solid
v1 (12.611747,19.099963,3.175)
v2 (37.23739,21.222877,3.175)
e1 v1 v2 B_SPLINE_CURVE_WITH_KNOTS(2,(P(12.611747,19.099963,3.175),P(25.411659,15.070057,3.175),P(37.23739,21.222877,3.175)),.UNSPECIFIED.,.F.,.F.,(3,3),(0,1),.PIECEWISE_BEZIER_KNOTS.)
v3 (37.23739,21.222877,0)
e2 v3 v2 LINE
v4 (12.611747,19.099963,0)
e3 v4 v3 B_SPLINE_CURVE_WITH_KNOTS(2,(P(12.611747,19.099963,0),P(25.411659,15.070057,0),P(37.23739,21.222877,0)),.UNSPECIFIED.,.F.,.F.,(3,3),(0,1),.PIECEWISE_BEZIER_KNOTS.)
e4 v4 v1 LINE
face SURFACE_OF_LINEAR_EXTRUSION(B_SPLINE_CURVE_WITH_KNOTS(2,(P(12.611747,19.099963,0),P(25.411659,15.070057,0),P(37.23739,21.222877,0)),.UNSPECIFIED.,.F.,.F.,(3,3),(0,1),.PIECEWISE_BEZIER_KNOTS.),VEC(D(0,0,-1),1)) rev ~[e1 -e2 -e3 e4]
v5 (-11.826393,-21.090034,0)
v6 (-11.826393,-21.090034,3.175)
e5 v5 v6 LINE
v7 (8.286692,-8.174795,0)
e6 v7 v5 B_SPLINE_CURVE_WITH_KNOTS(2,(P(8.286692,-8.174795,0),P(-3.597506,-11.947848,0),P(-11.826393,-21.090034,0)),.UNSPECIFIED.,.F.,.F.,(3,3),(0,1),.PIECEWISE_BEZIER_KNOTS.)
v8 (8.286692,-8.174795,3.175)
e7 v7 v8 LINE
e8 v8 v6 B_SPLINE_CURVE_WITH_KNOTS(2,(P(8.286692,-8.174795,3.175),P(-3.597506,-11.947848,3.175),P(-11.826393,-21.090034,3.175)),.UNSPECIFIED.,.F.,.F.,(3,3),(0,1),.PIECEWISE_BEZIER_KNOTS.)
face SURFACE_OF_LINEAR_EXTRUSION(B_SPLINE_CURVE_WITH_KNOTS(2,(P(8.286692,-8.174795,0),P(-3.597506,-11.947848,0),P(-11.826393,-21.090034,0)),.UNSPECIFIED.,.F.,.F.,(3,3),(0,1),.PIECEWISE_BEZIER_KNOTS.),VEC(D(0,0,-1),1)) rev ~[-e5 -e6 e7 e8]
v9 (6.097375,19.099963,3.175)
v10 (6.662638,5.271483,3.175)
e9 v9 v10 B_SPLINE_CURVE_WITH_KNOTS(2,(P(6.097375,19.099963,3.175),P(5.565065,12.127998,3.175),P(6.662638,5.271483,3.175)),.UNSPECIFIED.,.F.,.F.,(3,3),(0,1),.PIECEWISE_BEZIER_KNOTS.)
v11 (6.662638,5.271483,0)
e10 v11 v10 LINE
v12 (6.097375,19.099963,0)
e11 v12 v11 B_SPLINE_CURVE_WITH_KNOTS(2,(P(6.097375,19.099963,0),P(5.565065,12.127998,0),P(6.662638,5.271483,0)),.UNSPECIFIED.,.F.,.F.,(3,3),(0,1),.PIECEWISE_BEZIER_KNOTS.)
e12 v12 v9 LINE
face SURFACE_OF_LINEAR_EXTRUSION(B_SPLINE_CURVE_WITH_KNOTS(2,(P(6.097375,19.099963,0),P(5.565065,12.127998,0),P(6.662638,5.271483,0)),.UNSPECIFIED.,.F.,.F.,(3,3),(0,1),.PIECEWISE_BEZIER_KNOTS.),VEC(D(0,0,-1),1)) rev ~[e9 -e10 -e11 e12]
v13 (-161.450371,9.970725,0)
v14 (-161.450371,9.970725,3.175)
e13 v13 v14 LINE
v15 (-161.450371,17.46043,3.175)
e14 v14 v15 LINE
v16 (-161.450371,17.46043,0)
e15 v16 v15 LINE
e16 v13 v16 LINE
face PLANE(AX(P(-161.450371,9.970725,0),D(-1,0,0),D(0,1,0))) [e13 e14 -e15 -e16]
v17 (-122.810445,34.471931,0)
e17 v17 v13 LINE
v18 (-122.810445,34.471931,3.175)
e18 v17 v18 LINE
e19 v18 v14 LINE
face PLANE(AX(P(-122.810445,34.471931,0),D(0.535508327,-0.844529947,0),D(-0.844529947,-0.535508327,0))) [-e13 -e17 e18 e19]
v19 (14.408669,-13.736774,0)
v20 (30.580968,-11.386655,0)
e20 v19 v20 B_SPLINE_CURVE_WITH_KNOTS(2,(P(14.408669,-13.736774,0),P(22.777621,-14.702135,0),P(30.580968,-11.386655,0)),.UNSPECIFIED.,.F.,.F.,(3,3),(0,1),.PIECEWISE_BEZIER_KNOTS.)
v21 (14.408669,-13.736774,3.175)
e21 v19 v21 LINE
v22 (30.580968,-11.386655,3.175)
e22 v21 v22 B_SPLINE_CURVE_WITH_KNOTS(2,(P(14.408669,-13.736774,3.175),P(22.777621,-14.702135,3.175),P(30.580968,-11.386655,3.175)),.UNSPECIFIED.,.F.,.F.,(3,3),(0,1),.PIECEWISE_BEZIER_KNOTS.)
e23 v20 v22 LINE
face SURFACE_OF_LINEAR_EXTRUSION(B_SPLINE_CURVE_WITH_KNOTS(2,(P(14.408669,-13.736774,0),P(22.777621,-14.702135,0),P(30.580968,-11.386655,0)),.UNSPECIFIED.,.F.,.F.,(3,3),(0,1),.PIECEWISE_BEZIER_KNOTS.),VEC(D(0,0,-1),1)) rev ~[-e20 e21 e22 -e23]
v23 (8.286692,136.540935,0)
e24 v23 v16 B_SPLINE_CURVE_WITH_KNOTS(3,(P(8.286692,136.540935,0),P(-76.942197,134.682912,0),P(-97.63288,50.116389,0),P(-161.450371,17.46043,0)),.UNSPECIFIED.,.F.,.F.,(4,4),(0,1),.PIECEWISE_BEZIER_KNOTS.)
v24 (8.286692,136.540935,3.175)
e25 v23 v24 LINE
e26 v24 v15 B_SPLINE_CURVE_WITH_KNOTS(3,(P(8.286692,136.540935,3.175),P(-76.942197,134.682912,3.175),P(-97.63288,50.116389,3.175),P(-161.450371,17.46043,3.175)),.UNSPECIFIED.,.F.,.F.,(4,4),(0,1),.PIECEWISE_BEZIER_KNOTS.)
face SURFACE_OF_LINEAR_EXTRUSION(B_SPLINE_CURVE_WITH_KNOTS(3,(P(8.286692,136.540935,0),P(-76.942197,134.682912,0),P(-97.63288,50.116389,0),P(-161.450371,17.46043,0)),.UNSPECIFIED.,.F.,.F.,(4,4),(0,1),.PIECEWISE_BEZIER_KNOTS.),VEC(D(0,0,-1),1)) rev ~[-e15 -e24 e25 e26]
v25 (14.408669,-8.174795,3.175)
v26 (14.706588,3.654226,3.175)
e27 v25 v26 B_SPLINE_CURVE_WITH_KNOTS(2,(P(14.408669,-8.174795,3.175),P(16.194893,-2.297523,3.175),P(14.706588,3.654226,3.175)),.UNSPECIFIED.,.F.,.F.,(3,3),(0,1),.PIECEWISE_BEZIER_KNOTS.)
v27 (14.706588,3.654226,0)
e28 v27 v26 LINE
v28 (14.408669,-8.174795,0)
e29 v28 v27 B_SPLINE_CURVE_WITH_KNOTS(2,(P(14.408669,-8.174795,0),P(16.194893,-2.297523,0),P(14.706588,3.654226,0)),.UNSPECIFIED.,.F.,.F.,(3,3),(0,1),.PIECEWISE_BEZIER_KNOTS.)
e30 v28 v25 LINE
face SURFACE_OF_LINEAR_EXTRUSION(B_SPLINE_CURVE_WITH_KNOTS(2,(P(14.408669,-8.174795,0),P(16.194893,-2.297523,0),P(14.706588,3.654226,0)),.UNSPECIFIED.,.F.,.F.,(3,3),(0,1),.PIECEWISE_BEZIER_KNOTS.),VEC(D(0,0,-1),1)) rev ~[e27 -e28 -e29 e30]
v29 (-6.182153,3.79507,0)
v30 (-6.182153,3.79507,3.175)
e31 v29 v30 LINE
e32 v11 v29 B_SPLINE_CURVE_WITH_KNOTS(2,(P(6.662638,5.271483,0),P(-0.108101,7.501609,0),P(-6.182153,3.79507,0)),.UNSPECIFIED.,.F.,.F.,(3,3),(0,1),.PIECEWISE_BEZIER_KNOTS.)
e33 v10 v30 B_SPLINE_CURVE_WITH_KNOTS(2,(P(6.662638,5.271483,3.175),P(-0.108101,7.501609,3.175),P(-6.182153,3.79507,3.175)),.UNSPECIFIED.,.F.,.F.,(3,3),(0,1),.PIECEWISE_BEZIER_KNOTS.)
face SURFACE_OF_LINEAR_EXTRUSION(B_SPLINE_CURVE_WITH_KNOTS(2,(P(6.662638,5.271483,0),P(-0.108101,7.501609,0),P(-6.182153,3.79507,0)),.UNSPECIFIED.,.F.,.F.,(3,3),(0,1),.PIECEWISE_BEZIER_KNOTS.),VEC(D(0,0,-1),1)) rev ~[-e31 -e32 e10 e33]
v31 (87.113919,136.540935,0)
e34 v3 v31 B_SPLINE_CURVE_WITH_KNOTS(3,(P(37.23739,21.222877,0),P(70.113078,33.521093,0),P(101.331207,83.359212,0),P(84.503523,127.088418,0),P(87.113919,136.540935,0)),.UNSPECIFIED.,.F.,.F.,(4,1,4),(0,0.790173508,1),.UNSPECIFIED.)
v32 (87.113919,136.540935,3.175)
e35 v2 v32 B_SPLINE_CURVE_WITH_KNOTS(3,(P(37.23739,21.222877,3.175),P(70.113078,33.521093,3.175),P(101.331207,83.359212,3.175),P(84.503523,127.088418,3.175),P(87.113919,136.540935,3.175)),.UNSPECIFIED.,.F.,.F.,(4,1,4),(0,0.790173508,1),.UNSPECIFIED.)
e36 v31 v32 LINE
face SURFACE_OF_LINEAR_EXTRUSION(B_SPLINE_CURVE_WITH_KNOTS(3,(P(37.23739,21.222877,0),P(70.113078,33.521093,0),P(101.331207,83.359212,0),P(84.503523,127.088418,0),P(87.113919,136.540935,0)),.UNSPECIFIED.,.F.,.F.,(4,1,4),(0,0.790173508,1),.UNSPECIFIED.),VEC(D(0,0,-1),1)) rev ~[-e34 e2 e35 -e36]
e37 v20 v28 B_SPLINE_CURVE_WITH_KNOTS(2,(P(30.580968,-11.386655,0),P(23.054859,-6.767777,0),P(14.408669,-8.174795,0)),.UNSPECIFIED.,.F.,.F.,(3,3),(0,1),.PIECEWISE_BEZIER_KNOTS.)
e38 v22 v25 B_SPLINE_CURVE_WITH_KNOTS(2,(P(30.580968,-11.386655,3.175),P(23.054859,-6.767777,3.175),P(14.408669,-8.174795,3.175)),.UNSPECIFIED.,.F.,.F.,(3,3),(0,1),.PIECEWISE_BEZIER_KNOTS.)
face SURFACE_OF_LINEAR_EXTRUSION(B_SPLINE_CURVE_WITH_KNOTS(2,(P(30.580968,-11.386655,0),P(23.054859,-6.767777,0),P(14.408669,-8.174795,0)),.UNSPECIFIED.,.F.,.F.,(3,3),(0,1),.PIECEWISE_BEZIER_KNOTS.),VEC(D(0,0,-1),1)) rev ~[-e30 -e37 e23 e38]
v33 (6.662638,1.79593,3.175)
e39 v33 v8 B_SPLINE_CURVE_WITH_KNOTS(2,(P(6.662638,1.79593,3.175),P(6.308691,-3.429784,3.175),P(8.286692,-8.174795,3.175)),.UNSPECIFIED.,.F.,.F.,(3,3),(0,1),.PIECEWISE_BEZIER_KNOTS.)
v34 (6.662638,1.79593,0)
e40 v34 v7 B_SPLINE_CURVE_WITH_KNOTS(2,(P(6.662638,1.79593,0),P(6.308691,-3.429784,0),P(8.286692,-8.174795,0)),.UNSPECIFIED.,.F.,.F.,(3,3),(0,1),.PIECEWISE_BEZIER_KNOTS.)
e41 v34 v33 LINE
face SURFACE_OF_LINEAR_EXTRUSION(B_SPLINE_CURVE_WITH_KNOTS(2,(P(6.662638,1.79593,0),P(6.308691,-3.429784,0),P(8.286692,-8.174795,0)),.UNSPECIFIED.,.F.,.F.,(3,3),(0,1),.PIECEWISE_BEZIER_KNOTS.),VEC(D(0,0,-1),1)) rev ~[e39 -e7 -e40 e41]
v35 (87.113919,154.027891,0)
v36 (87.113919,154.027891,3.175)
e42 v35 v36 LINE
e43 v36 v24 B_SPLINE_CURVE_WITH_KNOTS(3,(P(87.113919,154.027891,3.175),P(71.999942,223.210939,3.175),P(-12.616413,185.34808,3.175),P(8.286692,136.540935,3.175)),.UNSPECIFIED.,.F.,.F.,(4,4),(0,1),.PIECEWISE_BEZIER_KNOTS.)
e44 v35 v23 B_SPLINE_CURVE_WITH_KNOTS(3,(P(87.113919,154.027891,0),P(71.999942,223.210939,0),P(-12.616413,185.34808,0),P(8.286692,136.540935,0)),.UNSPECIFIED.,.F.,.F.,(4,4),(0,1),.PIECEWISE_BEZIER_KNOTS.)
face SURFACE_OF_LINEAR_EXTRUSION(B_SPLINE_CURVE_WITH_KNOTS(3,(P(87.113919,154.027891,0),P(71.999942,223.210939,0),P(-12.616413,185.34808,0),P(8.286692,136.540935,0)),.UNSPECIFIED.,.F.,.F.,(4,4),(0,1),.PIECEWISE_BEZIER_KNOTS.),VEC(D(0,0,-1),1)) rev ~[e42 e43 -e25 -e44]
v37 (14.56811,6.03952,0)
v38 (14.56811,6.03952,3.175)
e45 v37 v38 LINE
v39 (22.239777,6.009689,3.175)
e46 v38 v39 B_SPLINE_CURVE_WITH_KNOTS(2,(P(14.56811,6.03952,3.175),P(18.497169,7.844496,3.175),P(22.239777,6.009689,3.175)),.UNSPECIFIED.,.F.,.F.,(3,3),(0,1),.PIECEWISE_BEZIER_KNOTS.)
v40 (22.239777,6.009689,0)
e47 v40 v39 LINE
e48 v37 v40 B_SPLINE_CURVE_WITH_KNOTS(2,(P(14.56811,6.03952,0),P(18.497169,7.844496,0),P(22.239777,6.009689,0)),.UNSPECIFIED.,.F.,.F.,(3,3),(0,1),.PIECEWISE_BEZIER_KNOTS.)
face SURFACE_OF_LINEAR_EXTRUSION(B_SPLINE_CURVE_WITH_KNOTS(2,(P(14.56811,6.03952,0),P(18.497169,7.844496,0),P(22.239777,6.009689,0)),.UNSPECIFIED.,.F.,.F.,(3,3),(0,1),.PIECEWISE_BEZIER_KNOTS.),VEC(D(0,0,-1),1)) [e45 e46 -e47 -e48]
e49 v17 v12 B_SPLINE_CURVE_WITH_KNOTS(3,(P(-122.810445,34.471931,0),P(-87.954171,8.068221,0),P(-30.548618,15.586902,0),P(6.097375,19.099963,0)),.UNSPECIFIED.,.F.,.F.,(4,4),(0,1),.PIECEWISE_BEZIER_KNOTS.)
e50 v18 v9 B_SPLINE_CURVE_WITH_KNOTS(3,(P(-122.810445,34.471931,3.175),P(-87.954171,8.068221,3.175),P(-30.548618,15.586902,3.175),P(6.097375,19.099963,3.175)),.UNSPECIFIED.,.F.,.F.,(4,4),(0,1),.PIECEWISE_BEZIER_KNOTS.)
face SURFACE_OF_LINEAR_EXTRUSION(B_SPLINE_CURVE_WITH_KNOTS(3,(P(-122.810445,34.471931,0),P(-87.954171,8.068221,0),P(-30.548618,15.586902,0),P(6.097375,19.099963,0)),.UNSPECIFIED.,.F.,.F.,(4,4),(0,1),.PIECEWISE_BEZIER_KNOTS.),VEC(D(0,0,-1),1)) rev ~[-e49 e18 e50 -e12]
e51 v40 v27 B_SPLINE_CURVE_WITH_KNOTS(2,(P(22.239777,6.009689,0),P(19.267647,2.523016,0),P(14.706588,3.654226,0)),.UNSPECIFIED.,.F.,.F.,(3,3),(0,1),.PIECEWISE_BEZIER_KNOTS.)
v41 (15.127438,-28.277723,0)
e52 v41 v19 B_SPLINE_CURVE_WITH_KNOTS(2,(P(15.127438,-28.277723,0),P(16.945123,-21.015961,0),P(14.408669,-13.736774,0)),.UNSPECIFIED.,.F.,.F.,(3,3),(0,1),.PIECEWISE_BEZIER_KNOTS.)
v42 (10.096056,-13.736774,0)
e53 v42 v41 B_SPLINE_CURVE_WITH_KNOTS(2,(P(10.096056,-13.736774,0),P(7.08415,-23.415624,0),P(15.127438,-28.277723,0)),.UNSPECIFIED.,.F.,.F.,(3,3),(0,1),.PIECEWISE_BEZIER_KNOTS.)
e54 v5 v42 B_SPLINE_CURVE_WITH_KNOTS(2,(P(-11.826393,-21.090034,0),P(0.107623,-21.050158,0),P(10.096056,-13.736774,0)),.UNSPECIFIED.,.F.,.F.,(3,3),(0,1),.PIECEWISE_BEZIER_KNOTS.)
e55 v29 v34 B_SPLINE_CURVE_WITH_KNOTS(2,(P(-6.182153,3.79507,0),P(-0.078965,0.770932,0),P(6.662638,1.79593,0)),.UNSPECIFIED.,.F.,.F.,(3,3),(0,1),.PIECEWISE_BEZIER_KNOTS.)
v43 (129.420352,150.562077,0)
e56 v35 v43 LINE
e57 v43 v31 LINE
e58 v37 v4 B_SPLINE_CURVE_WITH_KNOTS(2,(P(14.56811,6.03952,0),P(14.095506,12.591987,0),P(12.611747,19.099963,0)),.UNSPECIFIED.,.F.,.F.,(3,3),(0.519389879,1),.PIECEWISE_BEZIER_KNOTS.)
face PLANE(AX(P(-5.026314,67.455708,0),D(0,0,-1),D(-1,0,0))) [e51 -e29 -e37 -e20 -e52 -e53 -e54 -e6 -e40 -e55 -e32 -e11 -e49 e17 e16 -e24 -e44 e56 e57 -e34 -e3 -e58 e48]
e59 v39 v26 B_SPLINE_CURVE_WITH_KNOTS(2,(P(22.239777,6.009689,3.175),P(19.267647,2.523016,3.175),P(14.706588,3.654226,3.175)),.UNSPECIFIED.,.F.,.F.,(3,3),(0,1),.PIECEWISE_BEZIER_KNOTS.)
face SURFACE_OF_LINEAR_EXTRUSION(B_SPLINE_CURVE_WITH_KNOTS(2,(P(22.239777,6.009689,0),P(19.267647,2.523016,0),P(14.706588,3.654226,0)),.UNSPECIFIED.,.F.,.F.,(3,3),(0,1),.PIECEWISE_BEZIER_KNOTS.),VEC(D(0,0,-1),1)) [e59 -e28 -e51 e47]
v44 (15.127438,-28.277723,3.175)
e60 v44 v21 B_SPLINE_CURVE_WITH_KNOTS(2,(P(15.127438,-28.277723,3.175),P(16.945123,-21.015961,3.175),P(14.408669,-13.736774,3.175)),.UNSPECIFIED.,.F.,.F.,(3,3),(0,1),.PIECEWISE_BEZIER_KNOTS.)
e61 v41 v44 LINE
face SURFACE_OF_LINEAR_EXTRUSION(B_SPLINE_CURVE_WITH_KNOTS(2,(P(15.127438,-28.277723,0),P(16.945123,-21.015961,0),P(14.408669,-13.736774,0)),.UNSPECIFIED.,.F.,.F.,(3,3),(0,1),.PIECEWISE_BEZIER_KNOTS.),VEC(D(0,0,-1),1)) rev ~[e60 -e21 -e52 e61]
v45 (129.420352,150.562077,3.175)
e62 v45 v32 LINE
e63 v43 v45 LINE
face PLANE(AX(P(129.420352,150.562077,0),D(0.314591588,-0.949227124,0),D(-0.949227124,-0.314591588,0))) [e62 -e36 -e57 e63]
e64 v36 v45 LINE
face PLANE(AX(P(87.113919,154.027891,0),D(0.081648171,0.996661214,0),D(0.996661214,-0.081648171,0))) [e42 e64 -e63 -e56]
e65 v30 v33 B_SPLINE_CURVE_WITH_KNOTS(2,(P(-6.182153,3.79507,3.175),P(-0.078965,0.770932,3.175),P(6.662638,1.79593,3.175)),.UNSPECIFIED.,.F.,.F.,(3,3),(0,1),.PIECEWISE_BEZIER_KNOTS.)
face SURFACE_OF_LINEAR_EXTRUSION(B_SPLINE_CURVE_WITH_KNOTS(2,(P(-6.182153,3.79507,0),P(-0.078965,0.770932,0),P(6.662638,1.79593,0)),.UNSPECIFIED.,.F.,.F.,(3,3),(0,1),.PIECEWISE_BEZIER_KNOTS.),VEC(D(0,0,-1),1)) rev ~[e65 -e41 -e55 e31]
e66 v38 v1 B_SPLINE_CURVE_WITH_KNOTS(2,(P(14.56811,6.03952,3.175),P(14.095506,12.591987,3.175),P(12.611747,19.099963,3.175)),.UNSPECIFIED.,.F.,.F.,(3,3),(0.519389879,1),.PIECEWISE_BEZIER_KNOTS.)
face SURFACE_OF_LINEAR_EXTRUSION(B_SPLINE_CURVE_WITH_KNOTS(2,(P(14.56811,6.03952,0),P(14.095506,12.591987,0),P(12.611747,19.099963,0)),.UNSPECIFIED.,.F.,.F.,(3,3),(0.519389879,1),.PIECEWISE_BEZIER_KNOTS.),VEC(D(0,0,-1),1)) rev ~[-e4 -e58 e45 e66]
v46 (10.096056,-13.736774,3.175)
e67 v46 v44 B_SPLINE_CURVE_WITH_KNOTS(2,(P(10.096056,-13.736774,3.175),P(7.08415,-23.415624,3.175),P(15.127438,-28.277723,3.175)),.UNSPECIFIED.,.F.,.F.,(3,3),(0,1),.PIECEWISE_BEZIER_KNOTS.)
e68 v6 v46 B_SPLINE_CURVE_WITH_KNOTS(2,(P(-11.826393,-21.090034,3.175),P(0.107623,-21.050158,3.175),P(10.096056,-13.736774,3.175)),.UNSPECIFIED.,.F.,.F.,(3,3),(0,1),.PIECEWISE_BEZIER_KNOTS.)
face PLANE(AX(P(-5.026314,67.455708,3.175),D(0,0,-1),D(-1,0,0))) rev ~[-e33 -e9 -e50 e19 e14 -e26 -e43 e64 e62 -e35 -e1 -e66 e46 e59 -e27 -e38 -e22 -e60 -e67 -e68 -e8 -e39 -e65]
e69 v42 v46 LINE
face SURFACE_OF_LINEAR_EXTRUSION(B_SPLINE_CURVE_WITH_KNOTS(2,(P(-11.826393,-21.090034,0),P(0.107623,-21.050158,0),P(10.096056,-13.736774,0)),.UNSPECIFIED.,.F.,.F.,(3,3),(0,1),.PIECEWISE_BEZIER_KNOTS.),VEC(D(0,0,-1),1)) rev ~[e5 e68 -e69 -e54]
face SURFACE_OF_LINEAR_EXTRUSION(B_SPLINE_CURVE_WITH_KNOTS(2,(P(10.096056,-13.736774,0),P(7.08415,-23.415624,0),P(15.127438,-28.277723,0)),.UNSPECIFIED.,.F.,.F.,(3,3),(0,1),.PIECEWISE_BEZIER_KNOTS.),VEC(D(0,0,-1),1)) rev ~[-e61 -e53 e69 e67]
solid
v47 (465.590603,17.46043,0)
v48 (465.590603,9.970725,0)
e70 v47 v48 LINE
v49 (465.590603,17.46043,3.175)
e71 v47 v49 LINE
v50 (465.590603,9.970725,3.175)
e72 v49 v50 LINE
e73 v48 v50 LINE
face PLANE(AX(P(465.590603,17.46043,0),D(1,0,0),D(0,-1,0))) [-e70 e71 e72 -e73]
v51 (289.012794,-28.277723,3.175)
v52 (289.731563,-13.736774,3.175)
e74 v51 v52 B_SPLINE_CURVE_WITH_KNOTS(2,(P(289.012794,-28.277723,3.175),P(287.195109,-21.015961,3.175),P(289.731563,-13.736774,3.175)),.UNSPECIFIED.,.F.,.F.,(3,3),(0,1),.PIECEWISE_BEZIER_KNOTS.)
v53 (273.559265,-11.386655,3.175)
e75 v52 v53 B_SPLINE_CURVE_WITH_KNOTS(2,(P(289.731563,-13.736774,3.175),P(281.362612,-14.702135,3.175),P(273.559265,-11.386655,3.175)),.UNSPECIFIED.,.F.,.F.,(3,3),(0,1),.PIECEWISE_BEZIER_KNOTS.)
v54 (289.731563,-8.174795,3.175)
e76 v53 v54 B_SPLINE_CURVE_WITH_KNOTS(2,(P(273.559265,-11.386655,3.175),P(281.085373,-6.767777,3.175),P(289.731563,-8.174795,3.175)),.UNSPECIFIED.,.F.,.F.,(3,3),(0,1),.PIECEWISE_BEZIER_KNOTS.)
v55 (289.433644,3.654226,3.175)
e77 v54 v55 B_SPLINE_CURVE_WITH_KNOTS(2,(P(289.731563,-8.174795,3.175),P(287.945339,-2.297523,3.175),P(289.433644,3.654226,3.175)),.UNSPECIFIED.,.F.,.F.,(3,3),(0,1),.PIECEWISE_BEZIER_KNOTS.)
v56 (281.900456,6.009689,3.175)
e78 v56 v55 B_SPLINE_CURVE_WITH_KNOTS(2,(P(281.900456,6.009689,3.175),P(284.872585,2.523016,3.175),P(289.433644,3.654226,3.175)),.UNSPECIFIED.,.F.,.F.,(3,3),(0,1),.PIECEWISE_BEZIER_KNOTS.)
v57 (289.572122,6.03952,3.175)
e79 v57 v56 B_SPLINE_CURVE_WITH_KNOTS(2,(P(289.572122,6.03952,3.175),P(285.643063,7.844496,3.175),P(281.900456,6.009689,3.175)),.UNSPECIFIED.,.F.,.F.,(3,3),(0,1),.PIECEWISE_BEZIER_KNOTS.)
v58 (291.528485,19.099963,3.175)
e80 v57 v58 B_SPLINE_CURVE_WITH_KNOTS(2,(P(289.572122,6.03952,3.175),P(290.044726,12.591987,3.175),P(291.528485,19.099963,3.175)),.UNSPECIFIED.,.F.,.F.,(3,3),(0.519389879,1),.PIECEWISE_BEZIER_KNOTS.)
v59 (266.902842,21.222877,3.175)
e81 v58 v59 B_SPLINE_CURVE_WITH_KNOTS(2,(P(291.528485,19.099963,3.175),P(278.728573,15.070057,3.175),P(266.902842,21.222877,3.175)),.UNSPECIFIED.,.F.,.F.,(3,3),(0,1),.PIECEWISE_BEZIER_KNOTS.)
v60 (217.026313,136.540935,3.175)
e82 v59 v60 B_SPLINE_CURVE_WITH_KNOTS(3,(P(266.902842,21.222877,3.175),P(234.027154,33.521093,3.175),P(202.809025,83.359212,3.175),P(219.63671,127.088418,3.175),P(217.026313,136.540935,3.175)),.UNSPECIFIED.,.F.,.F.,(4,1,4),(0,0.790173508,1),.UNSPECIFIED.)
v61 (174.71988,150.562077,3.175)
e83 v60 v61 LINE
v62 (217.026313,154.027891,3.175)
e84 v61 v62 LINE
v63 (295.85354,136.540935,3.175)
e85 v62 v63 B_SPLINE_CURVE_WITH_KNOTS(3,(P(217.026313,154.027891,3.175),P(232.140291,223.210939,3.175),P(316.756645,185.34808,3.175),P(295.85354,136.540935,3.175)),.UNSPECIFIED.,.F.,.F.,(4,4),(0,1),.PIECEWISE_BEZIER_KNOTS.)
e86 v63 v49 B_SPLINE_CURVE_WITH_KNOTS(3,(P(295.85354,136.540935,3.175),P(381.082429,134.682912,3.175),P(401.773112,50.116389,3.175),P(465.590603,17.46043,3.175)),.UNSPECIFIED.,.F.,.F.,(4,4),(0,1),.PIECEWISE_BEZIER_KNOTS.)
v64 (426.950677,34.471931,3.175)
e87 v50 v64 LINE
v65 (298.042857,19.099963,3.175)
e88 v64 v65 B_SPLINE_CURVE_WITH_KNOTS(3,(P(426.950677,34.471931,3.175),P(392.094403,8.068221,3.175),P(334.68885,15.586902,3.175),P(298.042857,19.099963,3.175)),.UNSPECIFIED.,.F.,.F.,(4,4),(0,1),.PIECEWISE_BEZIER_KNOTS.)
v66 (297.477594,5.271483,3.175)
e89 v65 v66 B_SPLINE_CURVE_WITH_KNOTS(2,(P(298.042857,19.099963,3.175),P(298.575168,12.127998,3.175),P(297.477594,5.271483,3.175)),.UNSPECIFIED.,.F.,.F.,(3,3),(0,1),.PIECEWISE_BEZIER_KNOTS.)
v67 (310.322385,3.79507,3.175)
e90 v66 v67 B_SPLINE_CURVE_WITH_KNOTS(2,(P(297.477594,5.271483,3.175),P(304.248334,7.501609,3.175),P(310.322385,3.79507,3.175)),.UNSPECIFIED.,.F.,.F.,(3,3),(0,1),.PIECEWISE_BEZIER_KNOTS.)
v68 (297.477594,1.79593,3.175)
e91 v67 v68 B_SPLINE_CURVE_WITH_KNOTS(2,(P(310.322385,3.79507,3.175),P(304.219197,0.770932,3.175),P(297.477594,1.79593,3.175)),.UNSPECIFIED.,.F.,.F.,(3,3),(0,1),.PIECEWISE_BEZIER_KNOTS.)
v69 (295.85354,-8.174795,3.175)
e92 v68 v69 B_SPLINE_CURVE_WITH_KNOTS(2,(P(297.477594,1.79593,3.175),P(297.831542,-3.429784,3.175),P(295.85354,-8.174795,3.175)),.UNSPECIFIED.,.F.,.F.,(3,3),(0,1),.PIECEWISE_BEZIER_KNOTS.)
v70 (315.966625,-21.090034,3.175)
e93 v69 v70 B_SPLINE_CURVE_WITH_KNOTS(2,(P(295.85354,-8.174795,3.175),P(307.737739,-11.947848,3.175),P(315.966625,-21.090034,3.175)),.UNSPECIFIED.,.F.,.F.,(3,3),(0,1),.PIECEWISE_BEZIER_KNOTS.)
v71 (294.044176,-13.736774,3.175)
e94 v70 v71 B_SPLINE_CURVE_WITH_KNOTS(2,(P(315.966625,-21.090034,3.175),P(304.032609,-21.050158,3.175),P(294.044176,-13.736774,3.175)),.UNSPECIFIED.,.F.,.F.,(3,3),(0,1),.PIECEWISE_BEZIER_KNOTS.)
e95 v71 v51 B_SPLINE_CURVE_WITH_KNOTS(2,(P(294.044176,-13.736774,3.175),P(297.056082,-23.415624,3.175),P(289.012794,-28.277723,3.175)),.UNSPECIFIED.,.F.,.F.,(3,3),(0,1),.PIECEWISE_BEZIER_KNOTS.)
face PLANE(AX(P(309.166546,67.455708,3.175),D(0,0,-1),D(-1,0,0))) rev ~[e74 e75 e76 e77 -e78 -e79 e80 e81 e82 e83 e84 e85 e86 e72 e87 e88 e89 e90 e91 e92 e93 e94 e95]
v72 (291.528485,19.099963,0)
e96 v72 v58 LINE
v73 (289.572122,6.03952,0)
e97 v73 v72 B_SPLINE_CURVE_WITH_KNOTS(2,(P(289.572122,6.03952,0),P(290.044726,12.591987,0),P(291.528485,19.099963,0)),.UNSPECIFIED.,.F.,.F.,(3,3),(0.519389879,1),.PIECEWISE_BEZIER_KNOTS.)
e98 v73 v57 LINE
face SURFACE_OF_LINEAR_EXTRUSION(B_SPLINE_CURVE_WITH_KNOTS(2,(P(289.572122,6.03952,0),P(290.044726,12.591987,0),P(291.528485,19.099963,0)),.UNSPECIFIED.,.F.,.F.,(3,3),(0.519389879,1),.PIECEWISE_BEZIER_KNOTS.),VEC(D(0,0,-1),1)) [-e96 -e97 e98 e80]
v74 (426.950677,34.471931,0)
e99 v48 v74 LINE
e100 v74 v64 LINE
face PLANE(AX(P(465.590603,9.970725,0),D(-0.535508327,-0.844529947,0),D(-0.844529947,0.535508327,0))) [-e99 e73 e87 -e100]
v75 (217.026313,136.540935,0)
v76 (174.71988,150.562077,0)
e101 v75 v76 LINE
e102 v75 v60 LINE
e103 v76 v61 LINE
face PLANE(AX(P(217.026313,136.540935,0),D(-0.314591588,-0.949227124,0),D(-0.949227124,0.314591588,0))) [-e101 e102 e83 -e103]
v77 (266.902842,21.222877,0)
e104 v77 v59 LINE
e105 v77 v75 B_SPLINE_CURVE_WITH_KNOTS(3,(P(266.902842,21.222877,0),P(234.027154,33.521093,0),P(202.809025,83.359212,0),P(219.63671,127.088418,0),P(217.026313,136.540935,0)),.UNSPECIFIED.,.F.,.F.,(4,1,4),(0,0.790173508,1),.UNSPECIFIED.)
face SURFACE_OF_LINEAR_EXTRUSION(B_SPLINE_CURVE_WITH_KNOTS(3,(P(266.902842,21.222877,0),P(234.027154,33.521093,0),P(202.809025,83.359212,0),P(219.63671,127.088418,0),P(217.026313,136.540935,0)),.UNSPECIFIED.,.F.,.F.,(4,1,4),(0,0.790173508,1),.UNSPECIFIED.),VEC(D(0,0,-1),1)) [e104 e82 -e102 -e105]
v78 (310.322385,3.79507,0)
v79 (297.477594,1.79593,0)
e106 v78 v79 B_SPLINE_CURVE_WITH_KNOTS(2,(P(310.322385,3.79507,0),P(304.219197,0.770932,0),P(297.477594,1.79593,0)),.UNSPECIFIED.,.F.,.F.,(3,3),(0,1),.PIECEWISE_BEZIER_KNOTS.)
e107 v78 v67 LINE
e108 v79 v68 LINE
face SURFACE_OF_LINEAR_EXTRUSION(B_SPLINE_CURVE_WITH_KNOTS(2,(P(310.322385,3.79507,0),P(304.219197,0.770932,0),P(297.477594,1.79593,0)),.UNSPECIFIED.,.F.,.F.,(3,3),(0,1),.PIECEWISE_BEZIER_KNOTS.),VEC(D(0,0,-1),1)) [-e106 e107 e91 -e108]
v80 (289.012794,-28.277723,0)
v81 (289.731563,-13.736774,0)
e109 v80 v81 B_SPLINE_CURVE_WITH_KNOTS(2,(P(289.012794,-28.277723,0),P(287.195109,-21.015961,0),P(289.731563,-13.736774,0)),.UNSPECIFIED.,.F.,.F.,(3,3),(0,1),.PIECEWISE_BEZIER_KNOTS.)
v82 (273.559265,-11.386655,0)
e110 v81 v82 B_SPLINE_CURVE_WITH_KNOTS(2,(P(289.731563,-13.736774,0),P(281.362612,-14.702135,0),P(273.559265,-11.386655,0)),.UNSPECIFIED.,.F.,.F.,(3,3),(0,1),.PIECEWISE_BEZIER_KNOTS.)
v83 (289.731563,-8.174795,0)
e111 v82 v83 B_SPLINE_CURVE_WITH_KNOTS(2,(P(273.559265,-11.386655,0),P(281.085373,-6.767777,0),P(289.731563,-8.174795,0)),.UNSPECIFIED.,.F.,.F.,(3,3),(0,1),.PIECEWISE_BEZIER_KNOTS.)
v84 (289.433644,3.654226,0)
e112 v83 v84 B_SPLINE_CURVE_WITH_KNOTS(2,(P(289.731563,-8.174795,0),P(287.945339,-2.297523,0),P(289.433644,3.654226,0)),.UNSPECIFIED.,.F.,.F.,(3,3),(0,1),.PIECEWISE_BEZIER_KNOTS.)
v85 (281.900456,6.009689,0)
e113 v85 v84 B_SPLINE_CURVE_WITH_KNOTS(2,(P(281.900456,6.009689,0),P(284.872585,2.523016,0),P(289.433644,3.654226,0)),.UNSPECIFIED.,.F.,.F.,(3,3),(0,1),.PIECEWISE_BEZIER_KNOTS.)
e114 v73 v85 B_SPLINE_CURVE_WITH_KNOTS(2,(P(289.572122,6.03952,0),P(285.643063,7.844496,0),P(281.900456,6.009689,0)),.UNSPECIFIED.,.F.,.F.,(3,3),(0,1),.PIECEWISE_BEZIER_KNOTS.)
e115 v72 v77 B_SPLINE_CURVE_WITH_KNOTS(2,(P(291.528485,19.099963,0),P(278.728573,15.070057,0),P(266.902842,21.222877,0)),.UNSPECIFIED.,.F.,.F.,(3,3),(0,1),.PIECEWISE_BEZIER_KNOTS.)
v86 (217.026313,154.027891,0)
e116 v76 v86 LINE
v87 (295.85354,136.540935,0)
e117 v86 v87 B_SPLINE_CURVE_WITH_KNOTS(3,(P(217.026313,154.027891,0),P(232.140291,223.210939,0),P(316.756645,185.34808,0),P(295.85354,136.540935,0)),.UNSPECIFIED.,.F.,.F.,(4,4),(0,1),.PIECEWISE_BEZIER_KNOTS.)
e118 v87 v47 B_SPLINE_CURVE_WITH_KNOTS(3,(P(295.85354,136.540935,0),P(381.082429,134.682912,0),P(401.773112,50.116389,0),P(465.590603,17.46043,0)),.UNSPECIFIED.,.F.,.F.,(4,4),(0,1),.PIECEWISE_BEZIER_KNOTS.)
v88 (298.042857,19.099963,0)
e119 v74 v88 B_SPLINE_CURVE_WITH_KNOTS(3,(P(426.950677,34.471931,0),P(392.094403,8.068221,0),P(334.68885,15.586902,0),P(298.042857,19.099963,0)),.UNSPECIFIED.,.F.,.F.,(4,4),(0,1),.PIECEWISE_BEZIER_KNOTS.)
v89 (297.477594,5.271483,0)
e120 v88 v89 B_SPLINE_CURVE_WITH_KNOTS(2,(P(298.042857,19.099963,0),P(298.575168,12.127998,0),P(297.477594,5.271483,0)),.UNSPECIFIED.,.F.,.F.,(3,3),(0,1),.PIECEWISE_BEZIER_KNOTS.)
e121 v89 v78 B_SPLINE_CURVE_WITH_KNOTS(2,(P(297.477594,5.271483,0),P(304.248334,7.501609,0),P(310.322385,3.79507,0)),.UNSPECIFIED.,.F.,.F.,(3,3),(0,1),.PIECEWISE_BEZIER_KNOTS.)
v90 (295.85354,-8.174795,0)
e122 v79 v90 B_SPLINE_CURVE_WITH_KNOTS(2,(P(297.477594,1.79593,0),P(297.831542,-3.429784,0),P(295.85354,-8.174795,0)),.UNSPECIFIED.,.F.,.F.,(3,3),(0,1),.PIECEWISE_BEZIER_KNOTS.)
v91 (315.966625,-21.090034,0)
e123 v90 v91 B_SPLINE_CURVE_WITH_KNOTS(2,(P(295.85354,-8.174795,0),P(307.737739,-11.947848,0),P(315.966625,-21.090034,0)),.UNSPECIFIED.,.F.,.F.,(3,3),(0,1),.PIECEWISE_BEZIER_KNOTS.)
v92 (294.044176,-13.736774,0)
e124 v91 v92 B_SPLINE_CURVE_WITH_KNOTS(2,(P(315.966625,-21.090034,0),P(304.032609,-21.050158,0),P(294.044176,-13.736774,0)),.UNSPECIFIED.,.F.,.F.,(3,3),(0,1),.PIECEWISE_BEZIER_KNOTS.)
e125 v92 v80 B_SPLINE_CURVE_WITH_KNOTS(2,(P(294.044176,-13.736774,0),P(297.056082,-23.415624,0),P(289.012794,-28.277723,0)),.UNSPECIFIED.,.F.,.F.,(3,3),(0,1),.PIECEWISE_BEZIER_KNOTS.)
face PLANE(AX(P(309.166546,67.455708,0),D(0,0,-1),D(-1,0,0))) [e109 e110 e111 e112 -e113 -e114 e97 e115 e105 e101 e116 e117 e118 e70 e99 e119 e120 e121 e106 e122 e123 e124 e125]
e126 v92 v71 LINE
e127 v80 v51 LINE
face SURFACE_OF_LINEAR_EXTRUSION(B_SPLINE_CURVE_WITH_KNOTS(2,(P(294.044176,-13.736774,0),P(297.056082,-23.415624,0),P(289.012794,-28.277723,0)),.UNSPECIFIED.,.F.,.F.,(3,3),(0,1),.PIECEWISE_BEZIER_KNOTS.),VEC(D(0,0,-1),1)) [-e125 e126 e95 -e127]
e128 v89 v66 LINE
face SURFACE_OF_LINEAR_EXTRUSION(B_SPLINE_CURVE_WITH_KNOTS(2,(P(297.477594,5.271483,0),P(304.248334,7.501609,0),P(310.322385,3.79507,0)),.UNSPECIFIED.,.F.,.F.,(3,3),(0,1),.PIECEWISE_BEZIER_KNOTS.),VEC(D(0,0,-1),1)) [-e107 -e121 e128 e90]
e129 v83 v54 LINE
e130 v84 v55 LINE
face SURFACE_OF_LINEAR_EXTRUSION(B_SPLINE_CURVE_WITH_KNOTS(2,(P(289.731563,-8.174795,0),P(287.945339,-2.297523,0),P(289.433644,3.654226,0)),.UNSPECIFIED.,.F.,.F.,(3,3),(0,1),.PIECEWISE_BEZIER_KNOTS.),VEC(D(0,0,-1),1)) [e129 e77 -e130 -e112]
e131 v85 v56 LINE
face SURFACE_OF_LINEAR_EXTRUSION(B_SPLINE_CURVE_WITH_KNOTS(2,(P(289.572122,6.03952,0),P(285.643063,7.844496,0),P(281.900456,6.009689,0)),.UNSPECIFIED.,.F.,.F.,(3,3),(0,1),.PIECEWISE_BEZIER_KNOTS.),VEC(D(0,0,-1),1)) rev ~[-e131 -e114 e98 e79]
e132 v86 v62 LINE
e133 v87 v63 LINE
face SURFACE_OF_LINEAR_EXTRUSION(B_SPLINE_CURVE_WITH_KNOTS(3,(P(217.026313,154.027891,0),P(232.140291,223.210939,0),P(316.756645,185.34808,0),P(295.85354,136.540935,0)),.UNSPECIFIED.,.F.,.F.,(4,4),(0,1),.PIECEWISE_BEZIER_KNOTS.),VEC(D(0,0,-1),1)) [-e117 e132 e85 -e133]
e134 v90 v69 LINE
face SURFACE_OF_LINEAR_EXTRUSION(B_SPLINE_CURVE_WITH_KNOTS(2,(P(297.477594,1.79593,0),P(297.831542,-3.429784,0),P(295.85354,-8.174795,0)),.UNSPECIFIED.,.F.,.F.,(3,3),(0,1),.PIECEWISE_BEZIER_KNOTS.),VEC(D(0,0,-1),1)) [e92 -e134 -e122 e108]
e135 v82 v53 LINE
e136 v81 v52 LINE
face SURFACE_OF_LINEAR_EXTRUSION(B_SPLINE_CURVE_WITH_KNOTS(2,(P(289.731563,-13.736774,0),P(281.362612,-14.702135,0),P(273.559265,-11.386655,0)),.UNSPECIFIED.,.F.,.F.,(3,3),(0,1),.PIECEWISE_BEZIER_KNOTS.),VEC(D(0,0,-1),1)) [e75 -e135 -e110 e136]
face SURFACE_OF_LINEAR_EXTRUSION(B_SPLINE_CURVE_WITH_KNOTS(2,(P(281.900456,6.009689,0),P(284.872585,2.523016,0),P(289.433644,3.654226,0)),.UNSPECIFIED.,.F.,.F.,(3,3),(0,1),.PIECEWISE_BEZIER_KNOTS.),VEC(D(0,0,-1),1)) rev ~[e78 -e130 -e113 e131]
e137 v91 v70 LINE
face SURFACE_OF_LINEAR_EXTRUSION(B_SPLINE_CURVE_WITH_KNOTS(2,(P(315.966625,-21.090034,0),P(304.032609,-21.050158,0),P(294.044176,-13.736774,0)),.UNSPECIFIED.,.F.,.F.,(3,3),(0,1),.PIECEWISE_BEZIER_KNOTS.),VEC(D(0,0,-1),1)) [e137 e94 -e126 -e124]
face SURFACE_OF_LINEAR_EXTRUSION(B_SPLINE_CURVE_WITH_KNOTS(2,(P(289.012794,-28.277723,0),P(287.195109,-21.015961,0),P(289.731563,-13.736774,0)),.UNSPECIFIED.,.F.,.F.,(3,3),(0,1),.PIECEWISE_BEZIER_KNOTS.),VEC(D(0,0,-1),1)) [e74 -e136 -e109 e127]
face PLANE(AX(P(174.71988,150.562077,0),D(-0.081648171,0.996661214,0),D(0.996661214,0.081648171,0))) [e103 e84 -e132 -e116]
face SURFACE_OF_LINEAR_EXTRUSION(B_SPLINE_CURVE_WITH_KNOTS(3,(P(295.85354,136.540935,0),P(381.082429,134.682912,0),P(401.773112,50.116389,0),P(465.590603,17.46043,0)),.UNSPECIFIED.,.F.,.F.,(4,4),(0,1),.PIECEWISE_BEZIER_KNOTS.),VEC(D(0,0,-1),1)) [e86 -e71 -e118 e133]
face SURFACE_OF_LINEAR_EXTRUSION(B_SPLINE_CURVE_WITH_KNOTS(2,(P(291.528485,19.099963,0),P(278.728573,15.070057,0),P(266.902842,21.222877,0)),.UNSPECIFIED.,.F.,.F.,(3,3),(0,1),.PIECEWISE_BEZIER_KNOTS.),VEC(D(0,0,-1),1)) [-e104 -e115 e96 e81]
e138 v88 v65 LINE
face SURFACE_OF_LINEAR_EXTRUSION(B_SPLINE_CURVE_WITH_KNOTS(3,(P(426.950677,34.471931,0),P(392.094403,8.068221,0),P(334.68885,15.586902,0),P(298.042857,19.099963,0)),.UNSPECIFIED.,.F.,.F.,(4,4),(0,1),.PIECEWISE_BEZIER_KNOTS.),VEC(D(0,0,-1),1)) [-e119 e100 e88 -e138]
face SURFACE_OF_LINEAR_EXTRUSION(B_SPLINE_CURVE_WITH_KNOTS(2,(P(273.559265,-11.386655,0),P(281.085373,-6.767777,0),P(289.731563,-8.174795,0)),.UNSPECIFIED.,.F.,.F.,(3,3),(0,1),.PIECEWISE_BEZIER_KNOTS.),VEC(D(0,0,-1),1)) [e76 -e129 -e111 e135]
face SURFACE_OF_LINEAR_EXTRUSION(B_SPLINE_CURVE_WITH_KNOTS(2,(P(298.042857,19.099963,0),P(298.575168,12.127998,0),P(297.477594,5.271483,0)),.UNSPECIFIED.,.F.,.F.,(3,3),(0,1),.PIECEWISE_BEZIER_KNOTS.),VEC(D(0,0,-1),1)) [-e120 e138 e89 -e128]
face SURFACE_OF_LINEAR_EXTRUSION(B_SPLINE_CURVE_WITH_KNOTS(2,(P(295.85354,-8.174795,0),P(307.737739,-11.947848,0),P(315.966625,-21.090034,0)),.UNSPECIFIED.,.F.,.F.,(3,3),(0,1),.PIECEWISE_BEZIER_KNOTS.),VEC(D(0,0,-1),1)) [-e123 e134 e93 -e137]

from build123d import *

# Parameters (mm, degrees)
BOSS_EXTRUDE1_DEPTH   = 3.175
BOSS_EXTRUDE1_2_DEPTH = 3.175


with BuildPart() as part:
    # Sketch1 → Boss-Extrude1 (new body)
    with BuildSketch(Plane.XY):
        with BuildLine():
            Line((87.113919375, 154.027891238), (129.420352067, 150.562076769))
            Line((129.420352067, 150.562076769), (87.113919375, 136.540935247))
            add(Edge.make_bspline(
                [(37.237390471, 21.222876939), (70.113078244, 33.521092704), (101.331207371, 83.359211821), (84.503522649, 127.088417674), (87.113919375, 136.540935247)],
                knots=[0, 0, 0, 0, 0.790173508, 1, 1, 1, 1], degree=3))
            add(Edge.make_bspline(
                [(12.61174712, 19.099962546), (25.411659158, 15.070057004), (37.237390471, 21.222876939)],
                knots=[0, 0, 0, 1, 1, 1], degree=2))
            add(Edge.make_bspline(
                [(14.568109931, 6.0395201), (14.095506124, 12.591987305), (12.61174712, 19.099962546)],
                knots=[0.519389879, 0.519389879, 0.519389879, 1, 1, 1], degree=2))
            add(Edge.make_bspline(
                [(14.568109931, 6.0395201), (18.497169183, 7.844495738), (22.239776513, 6.009689266)],
                knots=[0, 0, 0, 1, 1, 1], degree=2))
            add(Edge.make_bspline(
                [(22.239776513, 6.009689266), (19.267647268, 2.52301559), (14.706588007, 3.654225883)],
                knots=[0, 0, 0, 1, 1, 1], degree=2))
            add(Edge.make_bspline(
                [(14.40866916, -8.174794729), (16.194892919, -2.297522761), (14.706588007, 3.654225883)],
                knots=[0, 0, 0, 1, 1, 1], degree=2))
            add(Edge.make_bspline(
                [(30.580967513, -11.386655468), (23.054859283, -6.767777046), (14.40866916, -8.174794729)],
                knots=[0, 0, 0, 1, 1, 1], degree=2))
            add(Edge.make_bspline(
                [(14.40866916, -13.736774366), (22.777620592, -14.702134943), (30.580967513, -11.386655468)],
                knots=[0, 0, 0, 1, 1, 1], degree=2))
            add(Edge.make_bspline(
                [(15.127437975, -28.277722637), (16.94512335, -21.015961132), (14.40866916, -13.736774366)],
                knots=[0, 0, 0, 1, 1, 1], degree=2))
            add(Edge.make_bspline(
                [(10.096056265, -13.736774366), (7.084149985, -23.415624205), (15.127437975, -28.277722637)],
                knots=[0, 0, 0, 1, 1, 1], degree=2))
            add(Edge.make_bspline(
                [(-11.826392613, -21.09003448), (0.107623037, -21.050157795), (10.096056265, -13.736774366)],
                knots=[0, 0, 0, 1, 1, 1], degree=2))
            add(Edge.make_bspline(
                [(8.286691916, -8.174794729), (-3.597506393, -11.947847819), (-11.826392613, -21.09003448)],
                knots=[0, 0, 0, 1, 1, 1], degree=2))
            add(Edge.make_bspline(
                [(6.662637903, 1.795930355), (6.308690545, -3.429784383), (8.286691916, -8.174794729)],
                knots=[0, 0, 0, 1, 1, 1], degree=2))
            add(Edge.make_bspline(
                [(-6.182152926, 3.795070158), (-0.078965126, 0.770932331), (6.662637903, 1.795930355)],
                knots=[0, 0, 0, 1, 1, 1], degree=2))
            add(Edge.make_bspline(
                [(6.662637903, 5.271482897), (-0.10810119, 7.501609225), (-6.182152926, 3.795070158)],
                knots=[0, 0, 0, 1, 1, 1], degree=2))
            add(Edge.make_bspline(
                [(6.097375444, 19.099962546), (5.565064553, 12.127998482), (6.662637903, 5.271482897)],
                knots=[0, 0, 0, 1, 1, 1], degree=2))
            add(Edge.make_bspline(
                [(-122.81044511, 34.471930675), (-87.954170711, 8.06822127), (-30.548617864, 15.586902078), (6.097375444, 19.099962546)],
                knots=[0, 0, 0, 0, 1, 1, 1, 1], degree=3))
            Line((-122.81044511, 34.471930675), (-161.450370656, 9.970725084))
            Line((-161.450370656, 9.970725084), (-161.450370656, 17.460429913))
            add(Edge.make_bspline(
                [(8.286691916, 136.540935247), (-76.942196875, 134.682911592), (-97.632880087, 50.116389354), (-161.450370656, 17.460429913)],
                knots=[0, 0, 0, 0, 1, 1, 1, 1], degree=3))
            add(Edge.make_bspline(
                [(87.113919375, 154.027891238), (71.999941775, 223.210938824), (-12.616412859, 185.34808031), (8.286691916, 136.540935247)],
                knots=[0, 0, 0, 0, 1, 1, 1, 1], degree=3))
        make_face()
    extrude(amount=BOSS_EXTRUDE1_DEPTH)


with BuildPart() as body_2:
    # Sketch1 → Boss-Extrude1 2 (new body)
    with BuildSketch(Plane.XY):
        with BuildLine():
            Line((465.590603009, 9.970725084), (426.950677463, 34.471930675))
            add(Edge.make_bspline(
                [(426.950677463, 34.471930675), (392.094403064, 8.06822127), (334.688850216, 15.586902078), (298.042856909, 19.099962546)],
                knots=[0, 0, 0, 0, 1, 1, 1, 1], degree=3))
            add(Edge.make_bspline(
                [(298.042856909, 19.099962546), (298.5751678, 12.127998482), (297.47759445, 5.271482897)],
                knots=[0, 0, 0, 1, 1, 1], degree=2))
            add(Edge.make_bspline(
                [(297.47759445, 5.271482897), (304.248333543, 7.501609225), (310.322385279, 3.795070158)],
                knots=[0, 0, 0, 1, 1, 1], degree=2))
            add(Edge.make_bspline(
                [(310.322385279, 3.795070158), (304.219197479, 0.770932331), (297.47759445, 1.795930355)],
                knots=[0, 0, 0, 1, 1, 1], degree=2))
            add(Edge.make_bspline(
                [(297.47759445, 1.795930355), (297.831541808, -3.429784383), (295.853540437, -8.174794729)],
                knots=[0, 0, 0, 1, 1, 1], degree=2))
            add(Edge.make_bspline(
                [(295.853540437, -8.174794729), (307.737738746, -11.947847819), (315.966624966, -21.09003448)],
                knots=[0, 0, 0, 1, 1, 1], degree=2))
            add(Edge.make_bspline(
                [(315.966624966, -21.09003448), (304.032609316, -21.050157795), (294.044176087, -13.736774366)],
                knots=[0, 0, 0, 1, 1, 1], degree=2))
            add(Edge.make_bspline(
                [(294.044176087, -13.736774366), (297.056082368, -23.415624205), (289.012794378, -28.277722637)],
                knots=[0, 0, 0, 1, 1, 1], degree=2))
            add(Edge.make_bspline(
                [(289.012794378, -28.277722637), (287.195109003, -21.015961132), (289.731563193, -13.736774366)],
                knots=[0, 0, 0, 1, 1, 1], degree=2))
            add(Edge.make_bspline(
                [(289.731563193, -13.736774366), (281.362611761, -14.702134943), (273.55926484, -11.386655468)],
                knots=[0, 0, 0, 1, 1, 1], degree=2))
            add(Edge.make_bspline(
                [(273.55926484, -11.386655468), (281.085373069, -6.767777046), (289.731563193, -8.174794729)],
                knots=[0, 0, 0, 1, 1, 1], degree=2))
            add(Edge.make_bspline(
                [(289.731563193, -8.174794729), (287.945339433, -2.297522761), (289.433644346, 3.654225883)],
                knots=[0, 0, 0, 1, 1, 1], degree=2))
            add(Edge.make_bspline(
                [(281.90045584, 6.009689266), (284.872585085, 2.52301559), (289.433644346, 3.654225883)],
                knots=[0, 0, 0, 1, 1, 1], degree=2))
            add(Edge.make_bspline(
                [(289.572122421, 6.0395201), (285.64306317, 7.844495738), (281.90045584, 6.009689266)],
                knots=[0, 0, 0, 1, 1, 1], degree=2))
            add(Edge.make_bspline(
                [(289.572122421, 6.0395201), (290.044726229, 12.591987305), (291.528485233, 19.099962546)],
                knots=[0.519389879, 0.519389879, 0.519389879, 1, 1, 1], degree=2))
            add(Edge.make_bspline(
                [(291.528485233, 19.099962546), (278.728573195, 15.070057004), (266.902841882, 21.222876939)],
                knots=[0, 0, 0, 1, 1, 1], degree=2))
            add(Edge.make_bspline(
                [(266.902841882, 21.222876939), (234.027154109, 33.521092704), (202.809024982, 83.359211821), (219.636709704, 127.088417674), (217.026312977, 136.540935247)],
                knots=[0, 0, 0, 0, 0.790173508, 1, 1, 1, 1], degree=3))
            Line((217.026312977, 136.540935247), (174.719880286, 150.562076769))
            Line((174.719880286, 150.562076769), (217.026312977, 154.027891238))
            add(Edge.make_bspline(
                [(217.026312977, 154.027891238), (232.140290578, 223.210938824), (316.756645212, 185.34808031), (295.853540437, 136.540935247)],
                knots=[0, 0, 0, 0, 1, 1, 1, 1], degree=3))
            add(Edge.make_bspline(
                [(295.853540437, 136.540935247), (381.082429227, 134.682911592), (401.77311244, 50.116389354), (465.590603009, 17.460429913)],
                knots=[0, 0, 0, 0, 1, 1, 1, 1], degree=3))
            Line((465.590603009, 17.460429913), (465.590603009, 9.970725084))
        make_face()
    extrude(amount=BOSS_EXTRUDE1_2_DEPTH)


solid = Compound([part.part, body_2.part])
